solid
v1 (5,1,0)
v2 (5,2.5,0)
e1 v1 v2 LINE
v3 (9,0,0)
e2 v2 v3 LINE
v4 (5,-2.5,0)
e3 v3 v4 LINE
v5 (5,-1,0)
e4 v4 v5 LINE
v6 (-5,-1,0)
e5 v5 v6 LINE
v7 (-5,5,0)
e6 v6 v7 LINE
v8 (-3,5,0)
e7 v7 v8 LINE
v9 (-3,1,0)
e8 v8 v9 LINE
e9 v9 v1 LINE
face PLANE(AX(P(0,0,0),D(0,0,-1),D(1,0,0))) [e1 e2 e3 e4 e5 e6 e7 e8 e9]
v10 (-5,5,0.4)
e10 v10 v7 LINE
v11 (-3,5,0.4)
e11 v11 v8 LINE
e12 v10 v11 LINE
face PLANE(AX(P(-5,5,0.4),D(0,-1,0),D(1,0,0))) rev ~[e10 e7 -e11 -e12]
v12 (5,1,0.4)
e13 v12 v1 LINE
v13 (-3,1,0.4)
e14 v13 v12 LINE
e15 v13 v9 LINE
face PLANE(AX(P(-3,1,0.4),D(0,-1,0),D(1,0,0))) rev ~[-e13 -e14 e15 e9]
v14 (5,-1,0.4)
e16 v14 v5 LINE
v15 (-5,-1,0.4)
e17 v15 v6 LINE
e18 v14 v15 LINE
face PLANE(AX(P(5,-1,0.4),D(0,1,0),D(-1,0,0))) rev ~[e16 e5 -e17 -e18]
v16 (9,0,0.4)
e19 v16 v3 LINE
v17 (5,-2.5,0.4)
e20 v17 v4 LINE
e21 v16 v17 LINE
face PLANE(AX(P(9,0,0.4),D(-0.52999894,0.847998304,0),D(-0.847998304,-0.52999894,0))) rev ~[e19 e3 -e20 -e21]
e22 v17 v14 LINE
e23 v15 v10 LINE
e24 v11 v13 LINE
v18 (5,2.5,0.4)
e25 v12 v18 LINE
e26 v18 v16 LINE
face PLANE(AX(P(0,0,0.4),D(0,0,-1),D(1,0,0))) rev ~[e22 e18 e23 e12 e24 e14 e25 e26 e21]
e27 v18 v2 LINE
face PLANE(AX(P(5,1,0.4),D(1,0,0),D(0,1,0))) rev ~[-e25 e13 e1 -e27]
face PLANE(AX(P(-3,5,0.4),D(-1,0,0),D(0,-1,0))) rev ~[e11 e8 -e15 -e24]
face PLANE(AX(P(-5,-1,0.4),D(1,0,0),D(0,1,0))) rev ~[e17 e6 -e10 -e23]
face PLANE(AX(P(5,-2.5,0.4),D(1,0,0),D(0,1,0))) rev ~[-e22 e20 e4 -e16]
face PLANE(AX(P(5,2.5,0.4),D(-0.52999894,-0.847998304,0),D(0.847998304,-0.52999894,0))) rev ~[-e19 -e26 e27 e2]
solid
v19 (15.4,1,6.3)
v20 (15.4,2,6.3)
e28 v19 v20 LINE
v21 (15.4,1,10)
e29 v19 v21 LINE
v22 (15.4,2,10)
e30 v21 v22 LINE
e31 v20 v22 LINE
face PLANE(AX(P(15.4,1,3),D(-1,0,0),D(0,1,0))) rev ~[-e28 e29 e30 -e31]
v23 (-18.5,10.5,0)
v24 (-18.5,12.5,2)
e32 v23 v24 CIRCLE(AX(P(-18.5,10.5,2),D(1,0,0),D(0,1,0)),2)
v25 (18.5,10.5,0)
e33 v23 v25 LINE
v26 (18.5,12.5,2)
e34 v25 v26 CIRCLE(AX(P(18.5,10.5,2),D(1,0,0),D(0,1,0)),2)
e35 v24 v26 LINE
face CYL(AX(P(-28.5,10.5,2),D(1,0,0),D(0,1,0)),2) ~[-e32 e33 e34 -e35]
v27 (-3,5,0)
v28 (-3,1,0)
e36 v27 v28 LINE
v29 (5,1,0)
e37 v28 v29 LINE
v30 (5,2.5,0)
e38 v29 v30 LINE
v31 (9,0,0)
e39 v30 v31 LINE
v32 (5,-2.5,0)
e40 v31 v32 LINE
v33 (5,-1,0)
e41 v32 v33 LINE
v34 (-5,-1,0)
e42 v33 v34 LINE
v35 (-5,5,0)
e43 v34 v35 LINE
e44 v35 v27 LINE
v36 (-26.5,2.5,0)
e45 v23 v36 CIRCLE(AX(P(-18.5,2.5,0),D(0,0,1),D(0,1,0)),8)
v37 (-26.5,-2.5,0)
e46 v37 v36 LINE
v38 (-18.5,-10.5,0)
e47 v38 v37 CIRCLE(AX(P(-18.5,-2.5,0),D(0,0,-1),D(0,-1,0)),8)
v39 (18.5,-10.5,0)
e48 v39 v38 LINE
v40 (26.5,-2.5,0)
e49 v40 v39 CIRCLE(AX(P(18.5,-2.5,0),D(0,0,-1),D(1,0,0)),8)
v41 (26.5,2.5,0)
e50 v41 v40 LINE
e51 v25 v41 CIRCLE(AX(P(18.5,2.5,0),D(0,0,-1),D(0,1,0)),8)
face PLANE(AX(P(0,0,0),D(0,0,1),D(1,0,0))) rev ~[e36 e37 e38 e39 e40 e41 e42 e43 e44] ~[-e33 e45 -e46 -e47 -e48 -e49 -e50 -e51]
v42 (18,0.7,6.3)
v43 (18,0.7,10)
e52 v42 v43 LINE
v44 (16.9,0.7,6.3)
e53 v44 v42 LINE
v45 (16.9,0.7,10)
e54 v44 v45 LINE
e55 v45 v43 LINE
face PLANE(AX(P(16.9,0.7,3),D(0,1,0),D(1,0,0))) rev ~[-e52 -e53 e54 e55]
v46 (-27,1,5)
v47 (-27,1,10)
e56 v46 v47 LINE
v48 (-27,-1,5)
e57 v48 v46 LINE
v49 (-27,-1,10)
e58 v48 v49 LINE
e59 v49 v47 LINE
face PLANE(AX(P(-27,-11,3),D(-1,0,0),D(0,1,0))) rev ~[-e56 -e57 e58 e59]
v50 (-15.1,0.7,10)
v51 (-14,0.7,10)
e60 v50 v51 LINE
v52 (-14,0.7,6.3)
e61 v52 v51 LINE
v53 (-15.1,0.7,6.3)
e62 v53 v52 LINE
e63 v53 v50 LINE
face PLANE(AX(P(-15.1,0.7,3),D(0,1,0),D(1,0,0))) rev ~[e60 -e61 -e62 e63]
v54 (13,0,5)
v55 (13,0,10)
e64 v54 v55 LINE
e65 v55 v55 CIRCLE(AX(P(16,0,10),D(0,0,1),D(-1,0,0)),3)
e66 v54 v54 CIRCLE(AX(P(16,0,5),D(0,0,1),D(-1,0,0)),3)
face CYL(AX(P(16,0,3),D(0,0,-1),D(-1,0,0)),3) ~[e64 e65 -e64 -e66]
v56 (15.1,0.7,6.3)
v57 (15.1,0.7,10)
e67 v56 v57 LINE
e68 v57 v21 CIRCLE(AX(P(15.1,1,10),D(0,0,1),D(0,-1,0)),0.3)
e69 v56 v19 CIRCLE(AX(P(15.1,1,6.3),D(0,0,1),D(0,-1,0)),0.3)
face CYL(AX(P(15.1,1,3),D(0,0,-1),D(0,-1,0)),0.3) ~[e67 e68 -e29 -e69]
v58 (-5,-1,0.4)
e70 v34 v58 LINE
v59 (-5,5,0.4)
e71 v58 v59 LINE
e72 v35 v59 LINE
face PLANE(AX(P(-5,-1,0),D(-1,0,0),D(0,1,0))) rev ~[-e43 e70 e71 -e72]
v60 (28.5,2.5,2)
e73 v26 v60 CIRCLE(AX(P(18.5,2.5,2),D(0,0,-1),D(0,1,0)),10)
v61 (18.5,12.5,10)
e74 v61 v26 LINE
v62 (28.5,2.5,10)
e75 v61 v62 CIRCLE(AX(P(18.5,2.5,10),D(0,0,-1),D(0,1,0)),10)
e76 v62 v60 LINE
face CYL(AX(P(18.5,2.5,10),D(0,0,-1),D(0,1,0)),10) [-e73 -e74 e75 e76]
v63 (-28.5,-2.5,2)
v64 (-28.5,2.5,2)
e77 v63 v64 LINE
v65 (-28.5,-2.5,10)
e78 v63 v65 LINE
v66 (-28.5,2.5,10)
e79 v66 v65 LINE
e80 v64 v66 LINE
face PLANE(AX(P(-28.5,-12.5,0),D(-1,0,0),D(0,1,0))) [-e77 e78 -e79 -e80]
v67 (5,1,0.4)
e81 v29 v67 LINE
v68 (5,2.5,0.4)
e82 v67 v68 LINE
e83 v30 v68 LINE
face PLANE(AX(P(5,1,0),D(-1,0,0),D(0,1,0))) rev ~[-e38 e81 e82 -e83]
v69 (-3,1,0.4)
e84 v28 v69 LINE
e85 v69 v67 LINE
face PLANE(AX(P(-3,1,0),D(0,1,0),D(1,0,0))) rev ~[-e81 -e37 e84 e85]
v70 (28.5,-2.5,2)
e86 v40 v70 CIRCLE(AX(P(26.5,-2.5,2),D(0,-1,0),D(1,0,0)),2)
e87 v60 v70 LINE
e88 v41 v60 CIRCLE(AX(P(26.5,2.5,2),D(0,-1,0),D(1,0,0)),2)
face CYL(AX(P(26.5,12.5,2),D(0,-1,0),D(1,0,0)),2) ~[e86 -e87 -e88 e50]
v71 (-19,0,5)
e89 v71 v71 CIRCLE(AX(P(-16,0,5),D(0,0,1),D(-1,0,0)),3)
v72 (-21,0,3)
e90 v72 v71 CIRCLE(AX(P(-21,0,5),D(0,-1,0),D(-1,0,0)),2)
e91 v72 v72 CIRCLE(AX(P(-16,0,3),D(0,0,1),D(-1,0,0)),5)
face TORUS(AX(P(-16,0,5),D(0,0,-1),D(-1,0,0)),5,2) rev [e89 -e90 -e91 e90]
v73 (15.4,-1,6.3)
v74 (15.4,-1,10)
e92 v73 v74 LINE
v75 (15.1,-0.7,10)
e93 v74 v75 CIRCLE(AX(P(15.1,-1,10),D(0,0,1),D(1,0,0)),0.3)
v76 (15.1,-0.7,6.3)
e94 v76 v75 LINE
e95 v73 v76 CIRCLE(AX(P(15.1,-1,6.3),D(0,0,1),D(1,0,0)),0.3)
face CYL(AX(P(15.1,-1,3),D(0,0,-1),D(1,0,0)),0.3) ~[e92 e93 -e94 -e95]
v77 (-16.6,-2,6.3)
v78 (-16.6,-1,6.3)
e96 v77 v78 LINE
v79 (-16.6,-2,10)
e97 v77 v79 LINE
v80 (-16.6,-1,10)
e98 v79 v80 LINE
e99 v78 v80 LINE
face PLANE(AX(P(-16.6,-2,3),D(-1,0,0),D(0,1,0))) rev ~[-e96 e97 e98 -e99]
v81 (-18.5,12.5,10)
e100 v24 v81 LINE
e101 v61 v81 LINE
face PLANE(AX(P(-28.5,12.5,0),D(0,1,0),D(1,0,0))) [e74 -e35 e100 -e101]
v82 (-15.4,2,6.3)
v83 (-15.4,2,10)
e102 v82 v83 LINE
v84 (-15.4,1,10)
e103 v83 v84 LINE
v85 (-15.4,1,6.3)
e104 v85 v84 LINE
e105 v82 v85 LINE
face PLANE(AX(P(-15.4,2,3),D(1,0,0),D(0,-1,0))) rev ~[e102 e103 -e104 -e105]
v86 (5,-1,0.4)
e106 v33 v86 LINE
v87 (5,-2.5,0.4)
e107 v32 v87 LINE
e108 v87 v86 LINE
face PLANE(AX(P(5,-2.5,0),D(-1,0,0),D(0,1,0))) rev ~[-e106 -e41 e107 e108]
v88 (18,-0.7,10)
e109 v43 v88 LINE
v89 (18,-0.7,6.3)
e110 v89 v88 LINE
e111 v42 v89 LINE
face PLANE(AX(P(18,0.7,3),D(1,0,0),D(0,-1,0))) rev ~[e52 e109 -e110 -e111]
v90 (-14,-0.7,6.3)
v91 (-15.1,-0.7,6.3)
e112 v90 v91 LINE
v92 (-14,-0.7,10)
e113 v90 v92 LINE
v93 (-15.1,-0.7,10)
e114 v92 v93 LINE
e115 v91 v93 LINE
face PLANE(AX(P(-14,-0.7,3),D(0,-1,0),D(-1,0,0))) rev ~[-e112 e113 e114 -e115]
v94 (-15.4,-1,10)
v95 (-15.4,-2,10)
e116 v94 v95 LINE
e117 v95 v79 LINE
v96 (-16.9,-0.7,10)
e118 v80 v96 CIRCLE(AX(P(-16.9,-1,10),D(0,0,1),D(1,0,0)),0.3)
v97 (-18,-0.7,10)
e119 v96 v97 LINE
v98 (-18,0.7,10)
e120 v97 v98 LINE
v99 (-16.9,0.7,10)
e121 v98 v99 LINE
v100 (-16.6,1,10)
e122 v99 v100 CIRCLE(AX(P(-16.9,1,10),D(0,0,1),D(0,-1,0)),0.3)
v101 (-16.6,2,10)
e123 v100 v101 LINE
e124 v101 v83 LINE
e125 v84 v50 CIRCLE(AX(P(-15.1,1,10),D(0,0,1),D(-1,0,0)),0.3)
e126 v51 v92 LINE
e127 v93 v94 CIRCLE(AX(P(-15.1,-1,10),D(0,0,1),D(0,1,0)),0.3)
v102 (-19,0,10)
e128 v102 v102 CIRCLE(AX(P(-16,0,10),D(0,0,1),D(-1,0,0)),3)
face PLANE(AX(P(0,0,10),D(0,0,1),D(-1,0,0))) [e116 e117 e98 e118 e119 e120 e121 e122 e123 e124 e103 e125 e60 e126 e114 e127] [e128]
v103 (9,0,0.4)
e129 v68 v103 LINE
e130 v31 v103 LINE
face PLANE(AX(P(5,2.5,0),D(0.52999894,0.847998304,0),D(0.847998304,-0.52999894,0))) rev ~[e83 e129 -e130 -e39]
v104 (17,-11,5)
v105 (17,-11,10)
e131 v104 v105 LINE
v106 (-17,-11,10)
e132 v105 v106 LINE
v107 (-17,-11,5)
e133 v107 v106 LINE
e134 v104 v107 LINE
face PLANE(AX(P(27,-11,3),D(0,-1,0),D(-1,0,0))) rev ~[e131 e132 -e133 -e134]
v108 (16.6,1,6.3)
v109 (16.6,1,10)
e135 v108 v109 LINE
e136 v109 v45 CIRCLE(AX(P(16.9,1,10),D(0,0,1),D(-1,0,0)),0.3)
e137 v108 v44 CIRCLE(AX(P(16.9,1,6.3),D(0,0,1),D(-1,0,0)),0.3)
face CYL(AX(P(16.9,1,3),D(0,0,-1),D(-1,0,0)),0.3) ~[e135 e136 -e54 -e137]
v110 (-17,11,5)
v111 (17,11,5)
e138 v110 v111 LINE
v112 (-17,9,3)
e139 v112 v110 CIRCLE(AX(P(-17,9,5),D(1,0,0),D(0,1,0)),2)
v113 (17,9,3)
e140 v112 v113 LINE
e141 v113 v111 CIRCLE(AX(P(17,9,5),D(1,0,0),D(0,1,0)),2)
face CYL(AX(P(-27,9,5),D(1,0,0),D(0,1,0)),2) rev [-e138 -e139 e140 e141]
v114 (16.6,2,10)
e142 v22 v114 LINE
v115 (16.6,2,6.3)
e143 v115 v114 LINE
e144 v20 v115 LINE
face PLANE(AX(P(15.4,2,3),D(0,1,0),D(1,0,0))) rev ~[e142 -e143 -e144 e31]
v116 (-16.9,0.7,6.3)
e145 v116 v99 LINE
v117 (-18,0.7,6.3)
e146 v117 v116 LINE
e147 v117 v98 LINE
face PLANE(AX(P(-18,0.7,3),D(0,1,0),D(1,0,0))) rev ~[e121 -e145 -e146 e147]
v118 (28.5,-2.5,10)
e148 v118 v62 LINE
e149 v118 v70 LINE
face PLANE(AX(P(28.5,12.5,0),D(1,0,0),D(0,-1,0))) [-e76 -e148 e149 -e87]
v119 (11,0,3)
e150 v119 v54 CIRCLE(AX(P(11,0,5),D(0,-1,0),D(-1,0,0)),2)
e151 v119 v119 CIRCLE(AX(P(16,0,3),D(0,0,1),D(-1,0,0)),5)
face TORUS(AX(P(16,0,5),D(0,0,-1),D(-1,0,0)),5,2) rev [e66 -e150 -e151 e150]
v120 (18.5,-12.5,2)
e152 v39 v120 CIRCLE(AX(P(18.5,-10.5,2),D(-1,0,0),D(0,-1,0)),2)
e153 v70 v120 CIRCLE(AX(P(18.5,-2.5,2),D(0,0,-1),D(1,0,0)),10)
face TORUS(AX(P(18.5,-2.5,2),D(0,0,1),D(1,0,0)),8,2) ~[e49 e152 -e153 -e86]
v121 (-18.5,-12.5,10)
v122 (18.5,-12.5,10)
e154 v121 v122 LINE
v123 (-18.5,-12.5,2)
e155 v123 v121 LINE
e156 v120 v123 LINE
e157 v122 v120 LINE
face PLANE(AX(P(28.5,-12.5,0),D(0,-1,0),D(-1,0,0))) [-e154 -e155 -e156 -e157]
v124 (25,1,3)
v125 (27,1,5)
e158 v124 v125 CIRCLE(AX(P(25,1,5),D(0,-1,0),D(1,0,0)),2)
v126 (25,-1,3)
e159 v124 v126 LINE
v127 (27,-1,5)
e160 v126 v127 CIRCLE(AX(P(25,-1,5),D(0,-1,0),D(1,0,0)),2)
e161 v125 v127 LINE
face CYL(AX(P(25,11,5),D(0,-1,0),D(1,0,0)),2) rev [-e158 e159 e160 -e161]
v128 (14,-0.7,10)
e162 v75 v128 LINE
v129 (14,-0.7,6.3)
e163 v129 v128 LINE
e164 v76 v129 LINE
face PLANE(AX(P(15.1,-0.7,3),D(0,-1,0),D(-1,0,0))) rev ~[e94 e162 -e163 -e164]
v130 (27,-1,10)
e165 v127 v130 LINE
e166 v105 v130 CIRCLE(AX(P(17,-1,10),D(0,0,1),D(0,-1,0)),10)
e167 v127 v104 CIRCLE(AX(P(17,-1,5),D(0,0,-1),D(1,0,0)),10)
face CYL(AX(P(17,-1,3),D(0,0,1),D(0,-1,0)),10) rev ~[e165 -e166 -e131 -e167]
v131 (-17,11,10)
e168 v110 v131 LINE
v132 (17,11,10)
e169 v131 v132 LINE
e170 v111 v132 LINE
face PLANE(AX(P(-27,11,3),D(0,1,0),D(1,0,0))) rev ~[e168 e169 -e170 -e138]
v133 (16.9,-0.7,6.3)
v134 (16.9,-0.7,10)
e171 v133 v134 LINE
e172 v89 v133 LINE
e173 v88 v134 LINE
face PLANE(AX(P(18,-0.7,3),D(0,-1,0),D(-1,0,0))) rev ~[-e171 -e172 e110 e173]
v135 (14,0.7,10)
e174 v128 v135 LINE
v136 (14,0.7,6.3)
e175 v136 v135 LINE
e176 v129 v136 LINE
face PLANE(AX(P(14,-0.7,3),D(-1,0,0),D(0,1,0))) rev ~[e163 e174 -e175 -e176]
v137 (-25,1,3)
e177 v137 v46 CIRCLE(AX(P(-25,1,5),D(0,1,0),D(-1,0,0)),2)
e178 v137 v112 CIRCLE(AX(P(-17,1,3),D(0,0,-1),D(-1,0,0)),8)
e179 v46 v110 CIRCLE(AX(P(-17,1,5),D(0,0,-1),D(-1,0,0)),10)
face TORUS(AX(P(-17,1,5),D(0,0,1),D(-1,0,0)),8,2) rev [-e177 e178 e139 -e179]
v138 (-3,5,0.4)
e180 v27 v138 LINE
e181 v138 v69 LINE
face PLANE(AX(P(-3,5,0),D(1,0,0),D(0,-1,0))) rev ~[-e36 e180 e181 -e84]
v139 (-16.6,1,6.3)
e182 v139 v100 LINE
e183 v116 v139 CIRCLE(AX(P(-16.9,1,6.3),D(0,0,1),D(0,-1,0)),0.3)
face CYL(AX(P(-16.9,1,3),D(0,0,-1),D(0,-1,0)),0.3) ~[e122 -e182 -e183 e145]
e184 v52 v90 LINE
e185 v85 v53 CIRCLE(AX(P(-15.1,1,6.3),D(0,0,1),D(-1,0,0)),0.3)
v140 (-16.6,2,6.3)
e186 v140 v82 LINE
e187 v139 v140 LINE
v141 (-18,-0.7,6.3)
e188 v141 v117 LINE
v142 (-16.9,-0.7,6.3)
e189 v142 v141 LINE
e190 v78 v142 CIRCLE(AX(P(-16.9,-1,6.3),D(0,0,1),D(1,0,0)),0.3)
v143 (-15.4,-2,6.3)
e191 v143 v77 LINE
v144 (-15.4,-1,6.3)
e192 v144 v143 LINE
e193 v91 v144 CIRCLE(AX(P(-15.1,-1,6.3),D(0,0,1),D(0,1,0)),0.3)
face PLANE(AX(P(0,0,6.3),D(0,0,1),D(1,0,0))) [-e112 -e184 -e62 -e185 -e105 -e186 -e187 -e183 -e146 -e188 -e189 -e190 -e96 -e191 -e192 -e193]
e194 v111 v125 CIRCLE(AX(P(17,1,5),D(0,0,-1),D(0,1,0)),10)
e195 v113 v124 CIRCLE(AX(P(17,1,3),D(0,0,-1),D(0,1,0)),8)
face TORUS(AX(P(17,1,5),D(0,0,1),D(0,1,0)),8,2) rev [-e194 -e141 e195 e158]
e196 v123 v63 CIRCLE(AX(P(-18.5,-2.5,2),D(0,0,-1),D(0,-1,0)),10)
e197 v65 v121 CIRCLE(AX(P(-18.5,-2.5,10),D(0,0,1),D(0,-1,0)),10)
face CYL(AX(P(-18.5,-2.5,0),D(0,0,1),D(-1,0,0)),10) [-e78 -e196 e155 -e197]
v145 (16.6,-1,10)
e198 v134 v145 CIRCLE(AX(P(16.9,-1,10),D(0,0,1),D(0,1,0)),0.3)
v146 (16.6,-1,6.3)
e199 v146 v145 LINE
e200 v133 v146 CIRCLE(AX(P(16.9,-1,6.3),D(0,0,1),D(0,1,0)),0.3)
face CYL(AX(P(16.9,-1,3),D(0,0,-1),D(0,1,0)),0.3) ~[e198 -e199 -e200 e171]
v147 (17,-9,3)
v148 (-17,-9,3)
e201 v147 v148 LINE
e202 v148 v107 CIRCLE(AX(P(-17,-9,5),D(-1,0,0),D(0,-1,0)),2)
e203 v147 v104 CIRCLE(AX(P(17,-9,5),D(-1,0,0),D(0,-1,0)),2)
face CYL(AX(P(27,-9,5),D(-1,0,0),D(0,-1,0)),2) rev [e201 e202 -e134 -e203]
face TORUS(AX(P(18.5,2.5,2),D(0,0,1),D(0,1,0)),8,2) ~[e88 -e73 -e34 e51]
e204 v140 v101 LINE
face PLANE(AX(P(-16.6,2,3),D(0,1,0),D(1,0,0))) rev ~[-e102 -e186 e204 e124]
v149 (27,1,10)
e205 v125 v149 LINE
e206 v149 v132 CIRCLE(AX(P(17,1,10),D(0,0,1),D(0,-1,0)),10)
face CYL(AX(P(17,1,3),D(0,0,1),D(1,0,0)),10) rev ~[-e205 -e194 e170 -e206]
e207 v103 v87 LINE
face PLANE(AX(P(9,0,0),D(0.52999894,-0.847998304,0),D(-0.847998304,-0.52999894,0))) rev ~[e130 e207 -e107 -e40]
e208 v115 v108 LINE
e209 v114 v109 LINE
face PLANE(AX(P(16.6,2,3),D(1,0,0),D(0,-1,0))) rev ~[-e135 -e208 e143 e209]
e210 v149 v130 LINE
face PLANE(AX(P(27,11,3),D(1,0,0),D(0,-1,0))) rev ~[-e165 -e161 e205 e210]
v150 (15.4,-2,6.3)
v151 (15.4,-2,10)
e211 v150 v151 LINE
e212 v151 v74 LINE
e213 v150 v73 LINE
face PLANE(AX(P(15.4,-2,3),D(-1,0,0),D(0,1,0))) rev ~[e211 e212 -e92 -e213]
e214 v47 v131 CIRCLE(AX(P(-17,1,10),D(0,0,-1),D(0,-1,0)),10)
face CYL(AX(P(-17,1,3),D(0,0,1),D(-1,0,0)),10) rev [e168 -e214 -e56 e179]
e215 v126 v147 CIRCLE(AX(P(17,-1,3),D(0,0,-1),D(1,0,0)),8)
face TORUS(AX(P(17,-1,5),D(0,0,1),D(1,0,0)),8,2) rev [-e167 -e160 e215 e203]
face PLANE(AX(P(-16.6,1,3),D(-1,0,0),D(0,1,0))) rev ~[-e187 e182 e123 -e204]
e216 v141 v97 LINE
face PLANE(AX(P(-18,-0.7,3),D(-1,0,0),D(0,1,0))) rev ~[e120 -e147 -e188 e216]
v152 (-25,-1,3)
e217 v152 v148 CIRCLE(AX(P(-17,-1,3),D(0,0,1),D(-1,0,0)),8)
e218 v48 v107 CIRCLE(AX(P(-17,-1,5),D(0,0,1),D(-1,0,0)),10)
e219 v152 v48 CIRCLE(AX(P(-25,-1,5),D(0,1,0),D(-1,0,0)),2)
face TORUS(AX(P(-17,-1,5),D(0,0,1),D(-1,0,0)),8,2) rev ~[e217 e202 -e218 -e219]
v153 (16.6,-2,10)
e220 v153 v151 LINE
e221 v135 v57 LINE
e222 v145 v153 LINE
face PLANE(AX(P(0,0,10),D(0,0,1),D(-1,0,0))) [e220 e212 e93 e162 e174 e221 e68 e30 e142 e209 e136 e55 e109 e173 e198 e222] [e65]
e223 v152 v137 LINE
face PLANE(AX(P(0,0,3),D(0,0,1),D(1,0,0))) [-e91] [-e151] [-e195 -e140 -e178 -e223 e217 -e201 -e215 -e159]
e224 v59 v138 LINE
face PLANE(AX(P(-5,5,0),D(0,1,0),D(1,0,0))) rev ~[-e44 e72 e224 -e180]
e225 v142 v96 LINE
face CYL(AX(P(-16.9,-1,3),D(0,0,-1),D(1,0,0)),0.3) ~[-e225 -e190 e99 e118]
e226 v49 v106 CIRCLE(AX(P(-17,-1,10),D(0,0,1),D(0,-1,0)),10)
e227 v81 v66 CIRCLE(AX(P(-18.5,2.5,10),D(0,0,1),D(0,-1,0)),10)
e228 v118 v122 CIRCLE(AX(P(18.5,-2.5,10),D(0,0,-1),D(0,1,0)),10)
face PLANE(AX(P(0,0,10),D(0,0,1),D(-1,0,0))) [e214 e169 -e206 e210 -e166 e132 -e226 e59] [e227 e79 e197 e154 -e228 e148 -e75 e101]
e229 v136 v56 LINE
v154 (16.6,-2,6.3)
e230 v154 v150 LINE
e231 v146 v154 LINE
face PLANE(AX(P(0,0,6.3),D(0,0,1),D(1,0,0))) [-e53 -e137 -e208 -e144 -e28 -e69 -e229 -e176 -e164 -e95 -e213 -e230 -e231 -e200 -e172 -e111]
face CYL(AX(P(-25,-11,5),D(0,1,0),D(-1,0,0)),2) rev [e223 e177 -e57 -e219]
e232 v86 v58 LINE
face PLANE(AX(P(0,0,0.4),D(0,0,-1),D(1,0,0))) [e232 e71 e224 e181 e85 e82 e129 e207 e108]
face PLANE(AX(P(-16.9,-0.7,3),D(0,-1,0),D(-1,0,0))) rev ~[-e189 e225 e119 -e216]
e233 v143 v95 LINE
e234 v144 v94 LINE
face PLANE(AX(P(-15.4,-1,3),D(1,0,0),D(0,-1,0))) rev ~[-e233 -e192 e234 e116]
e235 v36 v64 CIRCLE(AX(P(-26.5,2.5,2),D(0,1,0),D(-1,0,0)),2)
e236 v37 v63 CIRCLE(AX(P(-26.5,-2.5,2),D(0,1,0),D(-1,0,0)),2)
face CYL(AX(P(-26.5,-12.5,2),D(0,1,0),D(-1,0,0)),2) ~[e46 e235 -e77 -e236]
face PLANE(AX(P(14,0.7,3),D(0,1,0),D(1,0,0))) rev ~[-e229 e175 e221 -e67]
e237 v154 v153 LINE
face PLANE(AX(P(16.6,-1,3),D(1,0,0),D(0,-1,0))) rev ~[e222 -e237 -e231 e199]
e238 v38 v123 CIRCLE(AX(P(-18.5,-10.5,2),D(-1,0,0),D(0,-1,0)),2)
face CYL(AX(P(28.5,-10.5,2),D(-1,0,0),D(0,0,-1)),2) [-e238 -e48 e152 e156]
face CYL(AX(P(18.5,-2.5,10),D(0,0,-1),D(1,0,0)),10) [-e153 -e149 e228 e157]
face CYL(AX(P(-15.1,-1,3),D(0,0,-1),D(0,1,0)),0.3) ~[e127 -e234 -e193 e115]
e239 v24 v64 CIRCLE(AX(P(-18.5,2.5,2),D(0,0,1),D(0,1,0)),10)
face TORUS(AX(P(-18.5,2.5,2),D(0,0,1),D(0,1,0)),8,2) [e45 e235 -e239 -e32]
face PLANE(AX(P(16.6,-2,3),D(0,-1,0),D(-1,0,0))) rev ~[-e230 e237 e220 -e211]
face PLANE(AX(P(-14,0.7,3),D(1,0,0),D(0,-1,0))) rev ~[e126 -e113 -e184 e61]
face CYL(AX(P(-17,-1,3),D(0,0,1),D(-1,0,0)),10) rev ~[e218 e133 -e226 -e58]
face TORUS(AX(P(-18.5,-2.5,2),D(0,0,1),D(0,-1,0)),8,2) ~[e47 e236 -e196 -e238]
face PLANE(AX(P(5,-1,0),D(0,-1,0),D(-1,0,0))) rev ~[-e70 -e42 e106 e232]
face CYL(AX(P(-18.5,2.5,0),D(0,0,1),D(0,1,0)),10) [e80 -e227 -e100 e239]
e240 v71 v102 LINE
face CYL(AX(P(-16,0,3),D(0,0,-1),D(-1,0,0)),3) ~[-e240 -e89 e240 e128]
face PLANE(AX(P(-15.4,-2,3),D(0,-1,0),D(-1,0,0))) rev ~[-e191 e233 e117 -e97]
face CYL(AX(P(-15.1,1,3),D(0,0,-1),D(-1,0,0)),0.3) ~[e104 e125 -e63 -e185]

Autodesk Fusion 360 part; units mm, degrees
sketch "Sketch1" plane through (0, 0, 0) normal (0, 0, 1) x (1, 0, 0)
  line L0 (-28.5, 12.5) -> (28.5, 12.5)
  line L1 (28.5, 12.5) -> (28.5, -12.5)
  line L2 (28.5, -12.5) -> (-28.5, -12.5)
  line L3 (-28.5, -12.5) -> (-28.5, 12.5)
  dimension "d1" = 25
  dimension "d2" = 57
  dimension "d3" = 12.5
  dimension "d4" = 28.5
extrude "Extrude1" add sketch "Sketch1" along normal blind 3 makes body 1
sketch "Sketch2" plane through (0, 0, 3) normal (0, 0, 1) x (-1, 0, 0)
  line L0 (28.5, 12.5) -> (-28.5, 12.5)
  line L1 (-28.5, 12.5) -> (-28.5, -12.5)
  line L2 (-28.5, -12.5) -> (28.5, -12.5)
  line L3 (28.5, -12.5) -> (28.5, 12.5)
  line L4 (28.5, -12.5) -> (-28.5, -12.5)
  line L5 (-28.5, -12.5) -> (-28.5, 12.5)
  line L6 (-28.5, 12.5) -> (28.5, 12.5)
  line L7 (28.5, 12.5) -> (28.5, -12.5)
  line L8 (27, -11) -> (-27, -11)
  line L9 (-27, -11) -> (-27, 11)
  line L10 (-27, 11) -> (27, 11)
  line L11 (27, 11) -> (27, -11)
  line L12 (16.6, -2) -> (15.4, -2)
  line L13 (16.6, -1) -> (16.6, -2)
  arc A0 (-16.9, 0.7) -> (-16.6, 1) centre (-16.9, 1) ccw
  line L14 (14, -0.7) -> (14, 0.7)
  line L15 (-18, 0.7) -> (-16.9, 0.7)
  line L16 (-16.6, 1) -> (-16.6, 2)
  line L17 (-18, -0.7) -> (-18, 0.7)
  arc A1 (15.4, -1) -> (15.1, -0.7) centre (15.1, -1) ccw
  circle A2 centre (-16, 0) radius 3
  line L18 (-15.4, 2) -> (-15.4, 1)
  line L19 (14, 0.7) -> (15.1, 0.7)
  line L20 (-14, 0.7) -> (-14, -0.7)
  arc A3 (-16.6, -1) -> (-16.9, -0.7) centre (-16.9, -1) ccw
  line L21 (15.4, 2) -> (16.6, 2)
  line L22 (-15.4, -2) -> (-16.6, -2)
  line L23 (-16.9, -0.7) -> (-18, -0.7)
  line L24 (18, -0.7) -> (16.9, -0.7)
  arc A4 (-15.1, -0.7) -> (-15.4, -1) centre (-15.1, -1) ccw
  circle A5 centre (16, 0) radius 3
  line L25 (15.1, -0.7) -> (14, -0.7)
  arc A6 (16.9, -0.7) -> (16.6, -1) centre (16.9, -1) ccw
  line L26 (-16.6, 2) -> (-15.4, 2)
  line L27 (-15.1, 0.7) -> (-14, 0.7)
  line L28 (-15.4, -1) -> (-15.4, -2)
  line L29 (16.6, 2) -> (16.6, 1)
  line L30 (-14, -0.7) -> (-15.1, -0.7)
  arc A7 (-15.4, 1) -> (-15.1, 0.7) centre (-15.1, 1) ccw
  line L31 (15.4, 1) -> (15.4, 2)
  line L32 (15.4, -2) -> (15.4, -1)
  arc A8 (16.6, 1) -> (16.9, 0.7) centre (16.9, 1) ccw
  arc A9 (15.1, 0.7) -> (15.4, 1) centre (15.1, 1) ccw
  line L33 (-16.6, -2) -> (-16.6, -1)
  line L34 (18, 0.7) -> (18, -0.7)
  line L35 (16.9, 0.7) -> (18, 0.7)
  point P0 (-16, 0)
  point P1 (16, 0)
  point P2 (-15.4, 0.7)
  point P3 (16.6, 0.7)
  dimension "d7" = 1.5
  dimension "d8" = 1.5
  dimension "d9" = 1.5
  dimension "d10" = 1.5
  dimension "d11" = 4
  dimension "d12" = 4
  dimension "d13" = 2
  dimension "d14" = 2
  dimension "d15" = 1.2
  dimension "d16" = 1.4
  dimension "d17" = 0.7
  dimension "d18" = 0.6
  dimension "d19" = 0.3
  dimension "d20" = 6
  dimension "d21" = 4
  dimension "d22" = 4
  dimension "d23" = 2
  dimension "d24" = 2
  dimension "d25" = 1.2
  dimension "d26" = 1.4
  dimension "d27" = 0.7
  dimension "d28" = 0.6
  dimension "d29" = 0.3
  dimension "d30" = 6
  dimension "d31" = 32
  dimension "d32" = 16
extrude "Extrude2" add sketch "Sketch2" along normal blind 7 bodies 1
extrude "Extrude5" add 2 faces at (15.7655, 0.2578, 3) (-16.2345, -0.2578, 3) along direction (0, 0, 1) blind 3.3 on bodies 1 bodies 1
fillet "Fillet1" radius 10 8 edges at (28.5, 12.5, 5) (27, 11, 6.5) (27, -11, 6.5) (28.5, -12.5, 5) (-27, -11, 6.5) (-28.5, -12.5, 5) (-27, 11, 6.5) (-28.5, 12.5, 5) on bodies 1
fillet "Fillet1" radius 2 2 faces at (-4.968, -8.2642, 3) (-9.5, 4.1667, 0) on bodies 1
sketch "Sketch3" plane through (0, 0, 0) normal (0, 0, -1) x (1, 0, 0)
  arc A0 (18.5, -10.5) -> (26.5, -2.5) centre (18.5, -2.5) ccw
  line L0 (26.5, -2.5) -> (26.5, 2.5)
  arc A1 (26.5, 2.5) -> (18.5, 10.5) centre (18.5, 2.5) ccw
  line L1 (18.5, 10.5) -> (-18.5, 10.5)
  arc A2 (-18.5, 10.5) -> (-26.5, 2.5) centre (-18.5, 2.5) ccw
  line L2 (-26.5, 2.5) -> (-26.5, -2.5)
  arc A3 (-26.5, -2.5) -> (-18.5, -10.5) centre (-18.5, -2.5) ccw
  line L3 (-18.5, -10.5) -> (18.5, -10.5)
  line L4 (-3, -5) -> (-3, -1)
  line L5 (-3, -1) -> (5, -1)
  line L6 (5, -1) -> (5, -2.5)
  line L7 (5, -2.5) -> (9, 0)
  line L8 (9, 0) -> (5, 2.5)
  line L9 (5, 2.5) -> (5, 1)
  line L10 (5, 1) -> (-5, 1)
  line L11 (-5, 1) -> (-5, -5)
  line L12 (-5, -5) -> (-3, -5)
  dimension "d39" = 2
  dimension "d40" = 2
  dimension "d41" = 1.5
  dimension "d42" = 1.5
  dimension "d43" = 1
  dimension "d44" = 10
  dimension "d45" = 6
  dimension "d46" = 4
  dimension "d47" = 9
  dimension "d48" = 1
extrude "Extrude3" cut sketch "Sketch3" against normal blind 0.4 contours L4 L5 L6 L7 L8 L9 L10 L11 L12 bodies 1
extrude "Extrude4" add 1 faces at (-1, -0.3333, 0.4) along direction (0, 0, -1) blind 0.4 separate body on bodies 1 makes body 2
equation "d3 = ( 25 / 2 ) * 1 mm"
equation "d4 = ( 57 / 2 ) * 1 mm"
